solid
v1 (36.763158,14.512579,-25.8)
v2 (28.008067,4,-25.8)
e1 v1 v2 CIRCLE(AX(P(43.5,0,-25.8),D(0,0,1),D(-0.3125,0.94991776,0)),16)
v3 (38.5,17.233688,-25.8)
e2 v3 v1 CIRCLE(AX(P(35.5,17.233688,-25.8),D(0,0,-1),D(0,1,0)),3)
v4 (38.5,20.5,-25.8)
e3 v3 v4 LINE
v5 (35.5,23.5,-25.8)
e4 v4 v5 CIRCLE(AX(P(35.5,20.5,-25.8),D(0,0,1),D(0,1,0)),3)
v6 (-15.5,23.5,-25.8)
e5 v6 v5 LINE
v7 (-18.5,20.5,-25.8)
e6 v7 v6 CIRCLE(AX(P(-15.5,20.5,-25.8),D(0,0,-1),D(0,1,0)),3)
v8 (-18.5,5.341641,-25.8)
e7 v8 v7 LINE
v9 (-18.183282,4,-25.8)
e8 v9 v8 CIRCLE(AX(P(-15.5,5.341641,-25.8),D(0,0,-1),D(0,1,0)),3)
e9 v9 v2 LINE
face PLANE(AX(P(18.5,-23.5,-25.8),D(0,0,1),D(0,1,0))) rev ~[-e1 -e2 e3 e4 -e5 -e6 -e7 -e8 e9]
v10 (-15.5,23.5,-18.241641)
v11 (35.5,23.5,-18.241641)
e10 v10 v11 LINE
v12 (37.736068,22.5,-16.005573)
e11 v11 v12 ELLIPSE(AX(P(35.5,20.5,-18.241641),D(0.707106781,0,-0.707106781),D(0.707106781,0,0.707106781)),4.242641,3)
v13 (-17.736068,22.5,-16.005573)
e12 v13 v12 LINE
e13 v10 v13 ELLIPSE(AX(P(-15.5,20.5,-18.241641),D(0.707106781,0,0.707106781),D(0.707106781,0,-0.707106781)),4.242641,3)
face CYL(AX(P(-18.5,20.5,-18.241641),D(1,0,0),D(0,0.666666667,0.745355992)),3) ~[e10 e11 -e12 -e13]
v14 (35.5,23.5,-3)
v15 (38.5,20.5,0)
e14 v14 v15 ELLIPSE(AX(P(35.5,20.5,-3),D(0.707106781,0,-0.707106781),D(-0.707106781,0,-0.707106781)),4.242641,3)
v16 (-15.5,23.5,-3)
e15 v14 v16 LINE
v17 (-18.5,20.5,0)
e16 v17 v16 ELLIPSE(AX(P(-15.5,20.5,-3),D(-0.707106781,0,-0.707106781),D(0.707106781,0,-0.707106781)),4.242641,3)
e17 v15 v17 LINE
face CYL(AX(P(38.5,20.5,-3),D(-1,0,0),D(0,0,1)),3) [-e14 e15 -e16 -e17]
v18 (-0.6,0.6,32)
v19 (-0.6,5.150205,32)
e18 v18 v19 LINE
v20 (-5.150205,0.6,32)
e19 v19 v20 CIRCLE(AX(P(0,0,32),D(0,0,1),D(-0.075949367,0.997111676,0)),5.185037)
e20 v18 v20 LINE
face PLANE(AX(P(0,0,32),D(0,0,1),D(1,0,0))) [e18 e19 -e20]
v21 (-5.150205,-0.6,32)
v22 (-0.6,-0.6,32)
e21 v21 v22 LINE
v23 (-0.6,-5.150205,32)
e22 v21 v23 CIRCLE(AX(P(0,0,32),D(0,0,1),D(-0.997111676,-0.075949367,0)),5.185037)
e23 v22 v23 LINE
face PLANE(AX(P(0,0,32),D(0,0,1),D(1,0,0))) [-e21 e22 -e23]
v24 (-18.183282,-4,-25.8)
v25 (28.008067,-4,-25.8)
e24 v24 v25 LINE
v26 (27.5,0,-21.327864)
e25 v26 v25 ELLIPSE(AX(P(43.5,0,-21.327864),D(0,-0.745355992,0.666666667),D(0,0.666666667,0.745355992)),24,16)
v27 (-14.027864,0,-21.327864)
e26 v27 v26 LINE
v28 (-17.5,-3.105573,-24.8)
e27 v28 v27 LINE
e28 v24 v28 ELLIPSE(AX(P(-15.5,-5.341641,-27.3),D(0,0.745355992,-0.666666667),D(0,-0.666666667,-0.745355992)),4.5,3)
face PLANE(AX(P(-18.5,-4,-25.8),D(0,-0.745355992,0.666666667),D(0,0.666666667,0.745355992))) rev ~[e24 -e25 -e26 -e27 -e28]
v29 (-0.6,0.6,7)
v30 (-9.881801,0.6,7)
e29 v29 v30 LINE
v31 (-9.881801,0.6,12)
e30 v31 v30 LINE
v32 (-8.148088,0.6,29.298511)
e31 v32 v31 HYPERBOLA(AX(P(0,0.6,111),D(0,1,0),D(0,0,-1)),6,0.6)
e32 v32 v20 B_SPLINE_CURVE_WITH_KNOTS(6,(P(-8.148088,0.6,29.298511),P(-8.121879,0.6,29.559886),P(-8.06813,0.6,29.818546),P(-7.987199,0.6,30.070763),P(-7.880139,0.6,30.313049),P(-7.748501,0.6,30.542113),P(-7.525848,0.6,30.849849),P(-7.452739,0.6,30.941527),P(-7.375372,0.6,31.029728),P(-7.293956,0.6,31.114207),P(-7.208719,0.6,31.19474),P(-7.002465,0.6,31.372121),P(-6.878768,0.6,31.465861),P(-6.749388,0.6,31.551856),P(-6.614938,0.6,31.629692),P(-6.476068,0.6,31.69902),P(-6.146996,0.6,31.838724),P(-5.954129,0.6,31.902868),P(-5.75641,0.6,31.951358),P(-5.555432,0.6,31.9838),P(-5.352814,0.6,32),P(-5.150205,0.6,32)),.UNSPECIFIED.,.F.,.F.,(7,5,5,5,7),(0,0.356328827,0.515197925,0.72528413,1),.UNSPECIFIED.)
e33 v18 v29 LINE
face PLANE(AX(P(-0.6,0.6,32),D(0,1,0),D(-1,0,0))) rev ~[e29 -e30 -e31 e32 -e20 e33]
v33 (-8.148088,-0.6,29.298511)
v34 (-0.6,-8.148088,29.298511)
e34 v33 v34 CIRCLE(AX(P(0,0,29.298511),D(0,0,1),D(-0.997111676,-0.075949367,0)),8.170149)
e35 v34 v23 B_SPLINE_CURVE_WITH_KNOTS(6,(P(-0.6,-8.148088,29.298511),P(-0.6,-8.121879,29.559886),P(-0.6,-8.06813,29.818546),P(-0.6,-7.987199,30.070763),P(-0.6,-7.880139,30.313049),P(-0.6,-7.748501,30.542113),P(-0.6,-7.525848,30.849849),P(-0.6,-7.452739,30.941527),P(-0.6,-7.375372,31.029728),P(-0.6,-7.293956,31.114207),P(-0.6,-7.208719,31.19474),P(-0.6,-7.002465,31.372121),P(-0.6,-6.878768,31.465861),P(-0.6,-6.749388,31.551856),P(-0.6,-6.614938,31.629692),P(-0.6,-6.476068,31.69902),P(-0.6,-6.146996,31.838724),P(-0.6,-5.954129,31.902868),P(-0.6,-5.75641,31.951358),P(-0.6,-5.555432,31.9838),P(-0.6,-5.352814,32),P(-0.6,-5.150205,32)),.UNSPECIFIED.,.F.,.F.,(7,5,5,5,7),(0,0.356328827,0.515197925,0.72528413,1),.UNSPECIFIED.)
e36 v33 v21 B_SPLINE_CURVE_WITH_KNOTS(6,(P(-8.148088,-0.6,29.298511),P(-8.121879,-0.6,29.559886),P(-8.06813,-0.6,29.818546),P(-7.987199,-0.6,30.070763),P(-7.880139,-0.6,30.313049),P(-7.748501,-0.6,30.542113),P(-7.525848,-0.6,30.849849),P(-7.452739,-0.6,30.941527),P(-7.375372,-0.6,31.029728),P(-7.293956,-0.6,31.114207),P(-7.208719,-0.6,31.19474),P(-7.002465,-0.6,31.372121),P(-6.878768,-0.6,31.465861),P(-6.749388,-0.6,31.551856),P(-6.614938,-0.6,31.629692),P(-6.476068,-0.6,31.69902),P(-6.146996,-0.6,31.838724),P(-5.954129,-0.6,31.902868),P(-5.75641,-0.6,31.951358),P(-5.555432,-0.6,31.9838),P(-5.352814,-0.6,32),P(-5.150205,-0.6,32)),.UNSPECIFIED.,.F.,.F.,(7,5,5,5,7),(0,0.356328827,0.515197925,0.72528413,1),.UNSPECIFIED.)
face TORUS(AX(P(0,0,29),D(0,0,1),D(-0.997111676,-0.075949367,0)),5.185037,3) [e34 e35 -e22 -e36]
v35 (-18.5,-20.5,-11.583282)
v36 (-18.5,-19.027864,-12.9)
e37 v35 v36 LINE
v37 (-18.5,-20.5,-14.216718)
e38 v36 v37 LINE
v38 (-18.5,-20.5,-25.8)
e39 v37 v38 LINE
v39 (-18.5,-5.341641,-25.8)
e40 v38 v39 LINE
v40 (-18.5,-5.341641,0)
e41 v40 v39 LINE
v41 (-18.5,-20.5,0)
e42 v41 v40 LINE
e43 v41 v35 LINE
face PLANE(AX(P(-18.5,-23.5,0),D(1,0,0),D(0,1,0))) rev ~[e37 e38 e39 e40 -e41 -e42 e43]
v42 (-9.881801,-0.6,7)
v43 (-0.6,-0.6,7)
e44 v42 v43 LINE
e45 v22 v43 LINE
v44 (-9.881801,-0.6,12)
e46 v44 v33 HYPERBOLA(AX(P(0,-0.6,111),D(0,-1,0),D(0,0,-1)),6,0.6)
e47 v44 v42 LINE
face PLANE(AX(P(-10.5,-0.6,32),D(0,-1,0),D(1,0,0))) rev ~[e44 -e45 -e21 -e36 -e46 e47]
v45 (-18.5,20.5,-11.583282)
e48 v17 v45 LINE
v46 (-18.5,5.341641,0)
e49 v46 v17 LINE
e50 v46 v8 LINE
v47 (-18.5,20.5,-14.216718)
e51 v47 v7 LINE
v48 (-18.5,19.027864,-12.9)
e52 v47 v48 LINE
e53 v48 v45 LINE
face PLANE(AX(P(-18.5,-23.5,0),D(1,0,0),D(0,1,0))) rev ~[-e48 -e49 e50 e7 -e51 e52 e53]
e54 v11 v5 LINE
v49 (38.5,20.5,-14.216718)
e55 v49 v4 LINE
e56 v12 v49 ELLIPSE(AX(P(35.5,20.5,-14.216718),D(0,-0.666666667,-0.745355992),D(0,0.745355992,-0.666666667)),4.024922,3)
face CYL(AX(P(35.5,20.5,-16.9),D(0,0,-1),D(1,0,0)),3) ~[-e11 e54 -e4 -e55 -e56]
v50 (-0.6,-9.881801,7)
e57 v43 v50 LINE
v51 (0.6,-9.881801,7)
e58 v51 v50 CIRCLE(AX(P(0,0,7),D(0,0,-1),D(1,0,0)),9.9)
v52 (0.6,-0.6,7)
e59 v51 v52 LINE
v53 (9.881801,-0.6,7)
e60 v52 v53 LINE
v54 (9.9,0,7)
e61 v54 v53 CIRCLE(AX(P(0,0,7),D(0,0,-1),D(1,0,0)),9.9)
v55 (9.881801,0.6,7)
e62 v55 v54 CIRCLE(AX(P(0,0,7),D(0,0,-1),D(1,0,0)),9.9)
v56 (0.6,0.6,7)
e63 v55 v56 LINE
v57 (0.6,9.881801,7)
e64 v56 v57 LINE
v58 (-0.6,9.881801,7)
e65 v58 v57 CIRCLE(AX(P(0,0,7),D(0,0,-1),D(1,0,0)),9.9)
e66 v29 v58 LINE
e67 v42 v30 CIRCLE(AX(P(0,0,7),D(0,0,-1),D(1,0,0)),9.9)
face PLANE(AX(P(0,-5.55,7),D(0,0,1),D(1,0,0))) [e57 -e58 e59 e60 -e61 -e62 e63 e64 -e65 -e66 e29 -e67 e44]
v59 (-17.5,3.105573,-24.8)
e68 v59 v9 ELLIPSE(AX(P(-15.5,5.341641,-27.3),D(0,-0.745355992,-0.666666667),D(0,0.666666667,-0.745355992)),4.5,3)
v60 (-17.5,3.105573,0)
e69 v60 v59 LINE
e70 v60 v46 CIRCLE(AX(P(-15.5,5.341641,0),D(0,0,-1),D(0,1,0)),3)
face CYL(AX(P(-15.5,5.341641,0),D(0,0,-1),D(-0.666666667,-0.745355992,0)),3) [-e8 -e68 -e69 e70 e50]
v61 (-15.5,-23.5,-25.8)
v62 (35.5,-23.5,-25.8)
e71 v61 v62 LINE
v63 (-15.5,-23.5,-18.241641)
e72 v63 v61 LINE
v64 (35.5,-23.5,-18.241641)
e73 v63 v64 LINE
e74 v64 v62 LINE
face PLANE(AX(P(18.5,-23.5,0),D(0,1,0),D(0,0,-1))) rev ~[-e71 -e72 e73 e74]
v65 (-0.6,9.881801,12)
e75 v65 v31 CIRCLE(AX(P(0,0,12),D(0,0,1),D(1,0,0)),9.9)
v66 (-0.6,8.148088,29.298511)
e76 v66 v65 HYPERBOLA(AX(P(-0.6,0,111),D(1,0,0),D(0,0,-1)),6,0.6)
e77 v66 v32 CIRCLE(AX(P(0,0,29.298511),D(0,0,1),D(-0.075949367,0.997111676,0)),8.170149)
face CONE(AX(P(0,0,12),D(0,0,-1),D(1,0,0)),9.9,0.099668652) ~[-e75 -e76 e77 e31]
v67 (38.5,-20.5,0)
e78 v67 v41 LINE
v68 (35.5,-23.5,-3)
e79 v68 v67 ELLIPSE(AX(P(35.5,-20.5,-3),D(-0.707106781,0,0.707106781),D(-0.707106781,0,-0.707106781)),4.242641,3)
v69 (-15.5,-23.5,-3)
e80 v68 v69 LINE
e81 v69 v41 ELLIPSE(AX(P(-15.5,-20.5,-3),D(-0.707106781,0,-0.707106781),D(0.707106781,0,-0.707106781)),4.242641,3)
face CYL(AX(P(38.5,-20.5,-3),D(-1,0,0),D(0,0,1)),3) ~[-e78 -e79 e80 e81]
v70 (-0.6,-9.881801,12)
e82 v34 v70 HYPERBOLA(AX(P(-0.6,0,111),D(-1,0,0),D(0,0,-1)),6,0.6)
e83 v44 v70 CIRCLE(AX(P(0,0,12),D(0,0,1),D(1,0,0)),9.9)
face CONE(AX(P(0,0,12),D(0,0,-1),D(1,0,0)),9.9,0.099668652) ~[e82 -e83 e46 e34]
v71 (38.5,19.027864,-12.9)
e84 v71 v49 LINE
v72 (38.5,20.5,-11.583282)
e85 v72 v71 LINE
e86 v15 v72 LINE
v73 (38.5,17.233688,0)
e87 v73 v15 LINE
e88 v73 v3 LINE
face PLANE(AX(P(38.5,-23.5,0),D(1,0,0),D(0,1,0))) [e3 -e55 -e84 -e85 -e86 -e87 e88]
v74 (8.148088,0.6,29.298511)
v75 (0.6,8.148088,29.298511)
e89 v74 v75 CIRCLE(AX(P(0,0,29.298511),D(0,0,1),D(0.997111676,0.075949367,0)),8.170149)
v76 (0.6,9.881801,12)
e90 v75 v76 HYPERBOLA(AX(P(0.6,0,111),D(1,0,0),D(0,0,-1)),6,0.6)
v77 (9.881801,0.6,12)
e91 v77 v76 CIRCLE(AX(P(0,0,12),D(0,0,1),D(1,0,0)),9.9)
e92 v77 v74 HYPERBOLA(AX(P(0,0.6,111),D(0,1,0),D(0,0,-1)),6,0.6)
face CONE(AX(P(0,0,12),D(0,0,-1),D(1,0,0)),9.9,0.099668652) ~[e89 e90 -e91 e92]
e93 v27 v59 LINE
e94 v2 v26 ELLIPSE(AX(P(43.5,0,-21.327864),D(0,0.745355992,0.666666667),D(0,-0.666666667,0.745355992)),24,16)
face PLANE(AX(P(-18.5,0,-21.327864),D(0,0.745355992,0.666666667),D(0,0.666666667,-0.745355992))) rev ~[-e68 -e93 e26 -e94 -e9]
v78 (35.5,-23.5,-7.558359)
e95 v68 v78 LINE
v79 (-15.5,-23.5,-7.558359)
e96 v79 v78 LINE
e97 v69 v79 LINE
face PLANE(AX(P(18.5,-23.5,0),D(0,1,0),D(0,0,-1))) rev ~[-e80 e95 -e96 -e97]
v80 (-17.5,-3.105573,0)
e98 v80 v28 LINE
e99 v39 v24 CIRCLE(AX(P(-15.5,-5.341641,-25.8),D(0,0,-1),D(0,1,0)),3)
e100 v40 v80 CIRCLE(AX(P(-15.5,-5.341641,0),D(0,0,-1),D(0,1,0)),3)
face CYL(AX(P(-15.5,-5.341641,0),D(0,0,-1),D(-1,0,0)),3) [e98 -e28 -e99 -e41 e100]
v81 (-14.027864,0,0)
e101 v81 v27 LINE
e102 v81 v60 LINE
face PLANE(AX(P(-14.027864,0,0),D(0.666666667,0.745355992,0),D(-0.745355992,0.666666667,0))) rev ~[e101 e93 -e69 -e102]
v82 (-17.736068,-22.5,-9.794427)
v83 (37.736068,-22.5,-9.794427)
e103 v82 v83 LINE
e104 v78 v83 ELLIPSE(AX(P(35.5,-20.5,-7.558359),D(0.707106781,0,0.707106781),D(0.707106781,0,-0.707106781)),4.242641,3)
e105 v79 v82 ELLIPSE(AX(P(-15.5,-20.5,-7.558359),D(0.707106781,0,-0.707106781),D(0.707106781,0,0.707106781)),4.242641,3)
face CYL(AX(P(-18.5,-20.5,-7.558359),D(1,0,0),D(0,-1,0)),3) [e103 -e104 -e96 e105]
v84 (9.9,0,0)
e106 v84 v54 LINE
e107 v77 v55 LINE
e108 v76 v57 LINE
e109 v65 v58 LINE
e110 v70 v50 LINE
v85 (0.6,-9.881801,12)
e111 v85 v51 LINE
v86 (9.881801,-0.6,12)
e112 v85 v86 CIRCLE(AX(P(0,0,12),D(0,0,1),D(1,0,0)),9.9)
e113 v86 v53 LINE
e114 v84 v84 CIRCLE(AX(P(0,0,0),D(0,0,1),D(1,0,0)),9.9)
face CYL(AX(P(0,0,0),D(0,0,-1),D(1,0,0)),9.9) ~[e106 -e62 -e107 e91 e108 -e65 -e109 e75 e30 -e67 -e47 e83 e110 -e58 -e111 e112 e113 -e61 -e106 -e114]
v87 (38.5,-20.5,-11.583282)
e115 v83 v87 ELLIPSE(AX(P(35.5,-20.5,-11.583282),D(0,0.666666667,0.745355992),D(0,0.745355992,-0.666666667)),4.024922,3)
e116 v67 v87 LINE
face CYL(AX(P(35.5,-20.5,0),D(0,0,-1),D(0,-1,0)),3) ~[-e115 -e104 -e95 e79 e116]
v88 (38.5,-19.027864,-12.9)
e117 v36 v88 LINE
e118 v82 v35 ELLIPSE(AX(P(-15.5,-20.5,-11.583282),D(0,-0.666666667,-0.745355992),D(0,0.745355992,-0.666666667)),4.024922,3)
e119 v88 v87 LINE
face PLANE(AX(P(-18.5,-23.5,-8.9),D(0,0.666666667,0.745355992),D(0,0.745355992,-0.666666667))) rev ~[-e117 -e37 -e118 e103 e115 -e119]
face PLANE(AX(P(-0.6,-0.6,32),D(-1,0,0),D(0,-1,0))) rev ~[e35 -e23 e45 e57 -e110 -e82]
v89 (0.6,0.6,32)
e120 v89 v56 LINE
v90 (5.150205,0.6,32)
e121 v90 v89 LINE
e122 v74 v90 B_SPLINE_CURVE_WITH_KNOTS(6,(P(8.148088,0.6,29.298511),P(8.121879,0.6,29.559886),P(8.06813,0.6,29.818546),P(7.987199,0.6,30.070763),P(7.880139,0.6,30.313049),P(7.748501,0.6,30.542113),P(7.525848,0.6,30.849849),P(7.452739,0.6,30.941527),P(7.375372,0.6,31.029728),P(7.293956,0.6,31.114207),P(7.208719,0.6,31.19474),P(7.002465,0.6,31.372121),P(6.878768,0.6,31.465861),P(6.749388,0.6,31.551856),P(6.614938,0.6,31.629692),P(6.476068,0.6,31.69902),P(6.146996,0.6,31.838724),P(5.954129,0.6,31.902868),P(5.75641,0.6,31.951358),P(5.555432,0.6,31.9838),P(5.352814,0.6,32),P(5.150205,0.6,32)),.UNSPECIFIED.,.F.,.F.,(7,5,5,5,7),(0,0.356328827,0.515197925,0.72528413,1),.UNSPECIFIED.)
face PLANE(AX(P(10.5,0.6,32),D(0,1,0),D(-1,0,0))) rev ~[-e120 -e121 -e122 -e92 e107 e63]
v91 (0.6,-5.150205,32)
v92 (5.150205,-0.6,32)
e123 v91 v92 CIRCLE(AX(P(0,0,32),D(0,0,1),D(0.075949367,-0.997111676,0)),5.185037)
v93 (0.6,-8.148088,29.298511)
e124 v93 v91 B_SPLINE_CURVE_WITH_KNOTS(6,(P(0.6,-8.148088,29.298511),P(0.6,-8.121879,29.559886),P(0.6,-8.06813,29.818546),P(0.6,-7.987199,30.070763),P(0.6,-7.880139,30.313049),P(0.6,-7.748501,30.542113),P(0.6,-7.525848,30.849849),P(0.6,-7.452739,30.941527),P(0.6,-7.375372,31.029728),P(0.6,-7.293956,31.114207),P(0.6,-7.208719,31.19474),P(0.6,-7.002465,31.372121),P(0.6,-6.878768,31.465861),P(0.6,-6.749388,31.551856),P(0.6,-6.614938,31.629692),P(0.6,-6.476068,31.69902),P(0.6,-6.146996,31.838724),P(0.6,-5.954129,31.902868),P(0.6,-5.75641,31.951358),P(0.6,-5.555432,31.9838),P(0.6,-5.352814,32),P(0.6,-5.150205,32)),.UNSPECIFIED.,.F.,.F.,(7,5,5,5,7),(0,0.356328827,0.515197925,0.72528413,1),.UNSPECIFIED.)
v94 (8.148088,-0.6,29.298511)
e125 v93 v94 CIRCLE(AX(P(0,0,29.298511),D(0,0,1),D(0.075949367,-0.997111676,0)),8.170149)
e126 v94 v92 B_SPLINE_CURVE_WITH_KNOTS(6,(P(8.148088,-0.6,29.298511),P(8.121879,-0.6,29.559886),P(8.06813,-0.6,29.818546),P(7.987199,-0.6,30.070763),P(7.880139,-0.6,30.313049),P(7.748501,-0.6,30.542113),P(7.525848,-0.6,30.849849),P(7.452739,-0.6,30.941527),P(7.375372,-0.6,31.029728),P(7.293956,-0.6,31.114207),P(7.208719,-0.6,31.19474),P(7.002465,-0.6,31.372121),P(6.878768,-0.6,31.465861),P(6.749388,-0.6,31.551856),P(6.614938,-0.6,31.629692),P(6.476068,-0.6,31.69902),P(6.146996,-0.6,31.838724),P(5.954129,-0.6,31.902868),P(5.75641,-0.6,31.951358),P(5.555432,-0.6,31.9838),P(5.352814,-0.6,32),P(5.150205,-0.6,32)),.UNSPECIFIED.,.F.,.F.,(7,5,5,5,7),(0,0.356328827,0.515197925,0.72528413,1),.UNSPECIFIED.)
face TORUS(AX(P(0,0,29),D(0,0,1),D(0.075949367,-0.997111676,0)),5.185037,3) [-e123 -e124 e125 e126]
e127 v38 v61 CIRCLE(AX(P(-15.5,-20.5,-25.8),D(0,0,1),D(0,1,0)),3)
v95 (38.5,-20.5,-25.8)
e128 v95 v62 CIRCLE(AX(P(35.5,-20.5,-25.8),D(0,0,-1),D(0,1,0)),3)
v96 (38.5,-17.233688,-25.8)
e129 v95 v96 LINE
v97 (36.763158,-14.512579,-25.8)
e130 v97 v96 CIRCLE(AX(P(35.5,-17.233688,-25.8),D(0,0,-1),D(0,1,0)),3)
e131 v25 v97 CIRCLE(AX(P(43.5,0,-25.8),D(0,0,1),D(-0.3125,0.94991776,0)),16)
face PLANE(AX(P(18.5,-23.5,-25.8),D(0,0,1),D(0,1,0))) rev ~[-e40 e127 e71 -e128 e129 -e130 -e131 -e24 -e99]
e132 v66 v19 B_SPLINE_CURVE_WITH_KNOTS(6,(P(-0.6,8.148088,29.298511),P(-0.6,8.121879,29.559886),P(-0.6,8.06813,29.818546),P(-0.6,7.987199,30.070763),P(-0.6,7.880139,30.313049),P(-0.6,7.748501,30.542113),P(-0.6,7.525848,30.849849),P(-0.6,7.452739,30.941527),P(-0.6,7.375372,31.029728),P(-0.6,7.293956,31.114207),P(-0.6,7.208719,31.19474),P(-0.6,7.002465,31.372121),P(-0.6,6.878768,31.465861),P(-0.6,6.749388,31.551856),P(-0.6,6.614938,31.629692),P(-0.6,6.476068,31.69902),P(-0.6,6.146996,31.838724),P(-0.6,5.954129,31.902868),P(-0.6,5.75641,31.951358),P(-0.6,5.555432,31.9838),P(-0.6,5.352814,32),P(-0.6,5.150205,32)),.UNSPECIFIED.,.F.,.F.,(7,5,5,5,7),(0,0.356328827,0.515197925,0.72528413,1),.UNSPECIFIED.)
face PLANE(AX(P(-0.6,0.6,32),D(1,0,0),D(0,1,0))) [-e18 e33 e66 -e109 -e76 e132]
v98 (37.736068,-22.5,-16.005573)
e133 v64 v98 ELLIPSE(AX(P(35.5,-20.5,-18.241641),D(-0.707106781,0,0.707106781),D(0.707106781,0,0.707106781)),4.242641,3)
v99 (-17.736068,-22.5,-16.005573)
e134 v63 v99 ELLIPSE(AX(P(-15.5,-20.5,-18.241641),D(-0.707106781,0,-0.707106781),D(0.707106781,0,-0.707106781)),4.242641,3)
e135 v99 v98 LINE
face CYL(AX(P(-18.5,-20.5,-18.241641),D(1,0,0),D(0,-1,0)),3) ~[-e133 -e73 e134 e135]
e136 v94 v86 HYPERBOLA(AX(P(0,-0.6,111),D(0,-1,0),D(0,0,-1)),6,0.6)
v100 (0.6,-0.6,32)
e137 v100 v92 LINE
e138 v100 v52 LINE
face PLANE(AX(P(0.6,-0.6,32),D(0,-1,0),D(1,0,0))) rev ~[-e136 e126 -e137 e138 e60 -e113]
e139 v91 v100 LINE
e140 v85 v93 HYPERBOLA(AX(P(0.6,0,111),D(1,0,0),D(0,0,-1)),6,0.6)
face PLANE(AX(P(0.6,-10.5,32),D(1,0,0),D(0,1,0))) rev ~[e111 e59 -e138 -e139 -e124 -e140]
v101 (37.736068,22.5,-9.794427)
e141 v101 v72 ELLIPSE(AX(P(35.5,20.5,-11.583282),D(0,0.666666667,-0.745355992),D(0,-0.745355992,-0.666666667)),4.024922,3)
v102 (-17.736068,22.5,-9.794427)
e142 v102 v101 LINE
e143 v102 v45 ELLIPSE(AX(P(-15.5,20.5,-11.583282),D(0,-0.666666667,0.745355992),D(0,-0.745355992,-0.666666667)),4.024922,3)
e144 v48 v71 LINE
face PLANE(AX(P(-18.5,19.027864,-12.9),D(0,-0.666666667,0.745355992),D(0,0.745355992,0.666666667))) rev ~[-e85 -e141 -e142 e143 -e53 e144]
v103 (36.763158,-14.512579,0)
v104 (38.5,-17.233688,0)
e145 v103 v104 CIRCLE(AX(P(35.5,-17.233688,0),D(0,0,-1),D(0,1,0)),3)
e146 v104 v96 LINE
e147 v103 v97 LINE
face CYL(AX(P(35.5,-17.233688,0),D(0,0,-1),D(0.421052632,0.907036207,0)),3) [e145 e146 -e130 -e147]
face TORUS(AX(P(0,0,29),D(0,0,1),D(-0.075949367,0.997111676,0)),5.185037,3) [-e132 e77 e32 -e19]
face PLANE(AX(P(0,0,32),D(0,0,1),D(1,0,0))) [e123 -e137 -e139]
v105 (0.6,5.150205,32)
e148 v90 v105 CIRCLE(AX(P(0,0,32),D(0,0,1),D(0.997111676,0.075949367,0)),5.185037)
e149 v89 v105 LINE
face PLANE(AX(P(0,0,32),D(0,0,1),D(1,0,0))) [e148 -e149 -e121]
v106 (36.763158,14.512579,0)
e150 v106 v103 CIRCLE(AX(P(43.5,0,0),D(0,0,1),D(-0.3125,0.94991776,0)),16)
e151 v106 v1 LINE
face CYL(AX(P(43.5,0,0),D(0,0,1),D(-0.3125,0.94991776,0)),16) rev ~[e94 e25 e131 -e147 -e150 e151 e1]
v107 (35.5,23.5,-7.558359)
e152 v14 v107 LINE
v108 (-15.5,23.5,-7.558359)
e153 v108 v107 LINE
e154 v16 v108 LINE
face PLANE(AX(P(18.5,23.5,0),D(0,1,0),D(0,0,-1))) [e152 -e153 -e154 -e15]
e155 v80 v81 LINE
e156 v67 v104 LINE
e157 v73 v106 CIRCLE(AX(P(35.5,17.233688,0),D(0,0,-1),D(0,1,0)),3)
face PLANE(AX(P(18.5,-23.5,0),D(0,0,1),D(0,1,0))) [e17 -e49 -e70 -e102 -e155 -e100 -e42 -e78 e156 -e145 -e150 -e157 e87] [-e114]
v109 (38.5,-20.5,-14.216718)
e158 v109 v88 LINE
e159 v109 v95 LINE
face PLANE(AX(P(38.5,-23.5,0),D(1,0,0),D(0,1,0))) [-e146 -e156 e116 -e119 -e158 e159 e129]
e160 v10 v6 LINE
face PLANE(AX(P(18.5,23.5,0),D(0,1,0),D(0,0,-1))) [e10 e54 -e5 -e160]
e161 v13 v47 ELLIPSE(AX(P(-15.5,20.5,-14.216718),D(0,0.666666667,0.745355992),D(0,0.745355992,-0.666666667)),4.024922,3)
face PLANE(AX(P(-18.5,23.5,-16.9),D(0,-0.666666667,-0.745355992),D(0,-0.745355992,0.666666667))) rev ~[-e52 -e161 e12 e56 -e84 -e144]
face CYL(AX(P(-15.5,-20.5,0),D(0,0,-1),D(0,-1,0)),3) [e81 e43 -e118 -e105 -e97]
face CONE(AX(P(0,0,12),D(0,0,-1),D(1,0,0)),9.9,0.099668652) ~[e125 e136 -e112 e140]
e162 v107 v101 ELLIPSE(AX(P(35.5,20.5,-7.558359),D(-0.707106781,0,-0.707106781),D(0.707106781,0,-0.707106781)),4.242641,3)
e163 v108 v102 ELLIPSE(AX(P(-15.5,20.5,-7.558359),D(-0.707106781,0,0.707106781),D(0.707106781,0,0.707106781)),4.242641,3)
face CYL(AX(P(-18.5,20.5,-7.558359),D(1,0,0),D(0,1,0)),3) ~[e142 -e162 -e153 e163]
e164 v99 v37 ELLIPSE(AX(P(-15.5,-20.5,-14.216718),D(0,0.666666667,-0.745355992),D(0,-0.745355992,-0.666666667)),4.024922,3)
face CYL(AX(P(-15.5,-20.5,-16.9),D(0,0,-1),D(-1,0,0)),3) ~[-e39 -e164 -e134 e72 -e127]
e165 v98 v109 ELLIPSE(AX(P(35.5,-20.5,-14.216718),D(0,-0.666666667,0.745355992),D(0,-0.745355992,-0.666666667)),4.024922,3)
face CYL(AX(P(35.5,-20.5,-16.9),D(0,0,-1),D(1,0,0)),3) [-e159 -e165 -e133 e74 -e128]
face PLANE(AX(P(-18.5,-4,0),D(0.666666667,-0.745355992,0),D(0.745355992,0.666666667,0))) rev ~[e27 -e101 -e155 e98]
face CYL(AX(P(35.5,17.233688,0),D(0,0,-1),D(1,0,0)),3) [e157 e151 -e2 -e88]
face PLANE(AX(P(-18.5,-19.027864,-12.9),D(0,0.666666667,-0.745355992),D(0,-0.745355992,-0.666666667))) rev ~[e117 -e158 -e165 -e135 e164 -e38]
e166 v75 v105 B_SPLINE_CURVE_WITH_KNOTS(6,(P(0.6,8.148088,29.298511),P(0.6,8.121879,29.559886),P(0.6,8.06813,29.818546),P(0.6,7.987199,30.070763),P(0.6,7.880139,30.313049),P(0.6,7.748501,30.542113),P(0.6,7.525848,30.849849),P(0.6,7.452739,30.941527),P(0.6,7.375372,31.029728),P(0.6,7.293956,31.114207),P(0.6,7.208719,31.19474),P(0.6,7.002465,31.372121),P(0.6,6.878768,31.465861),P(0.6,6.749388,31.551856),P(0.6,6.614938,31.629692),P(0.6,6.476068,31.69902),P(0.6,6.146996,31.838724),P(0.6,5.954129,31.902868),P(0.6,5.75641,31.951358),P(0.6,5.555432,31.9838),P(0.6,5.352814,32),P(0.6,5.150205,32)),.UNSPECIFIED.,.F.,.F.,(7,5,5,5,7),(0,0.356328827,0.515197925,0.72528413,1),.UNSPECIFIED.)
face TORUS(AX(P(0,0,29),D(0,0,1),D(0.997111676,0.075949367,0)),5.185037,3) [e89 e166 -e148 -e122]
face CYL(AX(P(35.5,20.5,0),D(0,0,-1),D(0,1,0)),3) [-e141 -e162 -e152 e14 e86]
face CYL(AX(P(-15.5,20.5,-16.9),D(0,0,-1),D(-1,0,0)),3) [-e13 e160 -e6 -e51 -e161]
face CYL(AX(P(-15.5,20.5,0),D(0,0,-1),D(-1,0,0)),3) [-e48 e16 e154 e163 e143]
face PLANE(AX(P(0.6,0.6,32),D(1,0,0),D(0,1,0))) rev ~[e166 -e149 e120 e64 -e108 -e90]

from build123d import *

# Parameters (mm, degrees)
F0_R      = 9.9
F1_DEPTH  = 32
F0_W      = 37
F0_H      = 47
F2_DEPTH  = 25.8
F3_DEPTH  = 20
F5_SIZE2  = 20
F5_SIZE   = 2
F6_DEPTH  = 25.801
F8_DEPTH  = 57.001
F11_DEPTH = 57.001
F12_DEPTH = 25.801
F13_W     = 1.2
F13_H     = 9.9
F13_H_2   = 1.2
F13_W_2   = 9.9
F14_DEPTH = 25
F15_R     = 3


with BuildPart() as f1:
    # F0 (on Top) → F1 (new body)
    with BuildSketch(Plane.XY):
        Circle(F0_R)
    extrude(amount=F1_DEPTH)

    # F0 (on Top) → F2 (join)
    with BuildSketch(Plane.XY):
        Rectangle(F0_W, F0_H)
        Circle(F0_R, mode=Mode.SUBTRACT)
        Circle(F0_R)
    extrude(amount=-F2_DEPTH)

    # F3 (add): a face of the model
    f3_faces = [f1.faces().sort_by_distance(p)[0] for p in [
        (18.5, 0, -12.9),
    ]]
    extrude(f3_faces, amount=F3_DEPTH)

    # F5
    f5_edges = [f1.edges().sort_by_distance(p)[0] for p in [
        (-9.9, 0, 32),
    ]]
    f5_side = f1.faces().sort_by_distance((0, 0, 32))[0]
    chamfer(f5_edges, length=F5_SIZE, length2=F5_SIZE2, reference=f5_side)

    # F4 (on face) → F6 (cut, through all)
    with BuildSketch(Plane.XY):
        with BuildLine():
            Line((38.5, -15.1986841536), (38.5, 15.1986841536))
            ThreePointArc((38.5, 15.1986841536), (27.5, 0), (38.5, -15.1986841536))
        make_face()
    extrude(amount=-F6_DEPTH, mode=Mode.SUBTRACT)

    # F7 (on face) → F8 (cut, through all)
    with BuildSketch(Plane(origin=(-18.5, 0, 0), x_dir=(0, -1, 0), z_dir=(-1, 0, 0))):
        Polygon((-23.5, -16.9), (-19.027864045, -12.9), (-23.5, -8.9), align=None)
        Polygon((19.027864045, -12.9), (23.5, -16.9), (23.5, -8.9), align=None)
    extrude(amount=-F8_DEPTH, mode=Mode.SUBTRACT)

    # F10 (on face) → F11 (cut, through all)
    with BuildSketch(Plane(origin=(-18.5, 0, 0), x_dir=(0, -1, 0), z_dir=(-1, 0, 0))):
        Polygon((4, -25.8), (0, -21.327864045), (-4, -25.8), align=None)
    extrude(amount=-F11_DEPTH, mode=Mode.SUBTRACT)

    # F9 (on face) → F12 (cut, through all)
    with BuildSketch(Plane.XY):
        Polygon((-18.5, -4), (-14.027864045, 0), (-18.5, 4), align=None)
    extrude(amount=-F12_DEPTH, mode=Mode.SUBTRACT)

    # F13 (on face) → F14 (cut)
    with BuildSketch(Plane.XY.offset(32)):
        with Locations((0, -5.55)):
            Rectangle(F13_W, F13_H)
        Rectangle(F13_W, F13_H_2)
        with Locations((5.55, 0)):
            Rectangle(F13_W_2, F13_H_2)
        with Locations((-5.55, 0)):
            Rectangle(F13_W_2, F13_H_2)
        with Locations((0, 5.55)):
            Rectangle(F13_W, F13_H)
    extrude(amount=-F14_DEPTH, mode=Mode.SUBTRACT)

    # F15
    f15_edges = [f1.edges().sort_by_distance(p)[0] for p in [
        (-18.5, 23.5, -4.45),
        (-18.5, 23.5, -21.35),
        (-18.5, -23.5, -4.45),
        (-18.5, -23.5, -21.35),
        (38.5, -23.5, -4.45),
        (38.5, -23.5, -21.35),
        (38.5, 15.198684, -12.9),
        (38.5, -15.198684, -12.9),
        (38.5, 23.5, -4.45),
        (38.5, 23.5, -21.35),
        (10, -23.5, 0),
        (10, 23.5, 0),
        (10, 23.5, -16.9),
        (10, -23.5, -8.9),
        (10, -23.5, -16.9),
        (10, 23.5, -8.9),
        (-18.5, 4, -12.9),
        (-18.5, -4, -12.9),
        (-5.586144, 5.586144, 32),
        (-5.586144, -5.586144, 32),
        (5.586144, -5.586144, 32),
        (5.586144, 5.586144, 32),
    ]]
    fillet(f15_edges, radius=F15_R)


solid = f1.part
